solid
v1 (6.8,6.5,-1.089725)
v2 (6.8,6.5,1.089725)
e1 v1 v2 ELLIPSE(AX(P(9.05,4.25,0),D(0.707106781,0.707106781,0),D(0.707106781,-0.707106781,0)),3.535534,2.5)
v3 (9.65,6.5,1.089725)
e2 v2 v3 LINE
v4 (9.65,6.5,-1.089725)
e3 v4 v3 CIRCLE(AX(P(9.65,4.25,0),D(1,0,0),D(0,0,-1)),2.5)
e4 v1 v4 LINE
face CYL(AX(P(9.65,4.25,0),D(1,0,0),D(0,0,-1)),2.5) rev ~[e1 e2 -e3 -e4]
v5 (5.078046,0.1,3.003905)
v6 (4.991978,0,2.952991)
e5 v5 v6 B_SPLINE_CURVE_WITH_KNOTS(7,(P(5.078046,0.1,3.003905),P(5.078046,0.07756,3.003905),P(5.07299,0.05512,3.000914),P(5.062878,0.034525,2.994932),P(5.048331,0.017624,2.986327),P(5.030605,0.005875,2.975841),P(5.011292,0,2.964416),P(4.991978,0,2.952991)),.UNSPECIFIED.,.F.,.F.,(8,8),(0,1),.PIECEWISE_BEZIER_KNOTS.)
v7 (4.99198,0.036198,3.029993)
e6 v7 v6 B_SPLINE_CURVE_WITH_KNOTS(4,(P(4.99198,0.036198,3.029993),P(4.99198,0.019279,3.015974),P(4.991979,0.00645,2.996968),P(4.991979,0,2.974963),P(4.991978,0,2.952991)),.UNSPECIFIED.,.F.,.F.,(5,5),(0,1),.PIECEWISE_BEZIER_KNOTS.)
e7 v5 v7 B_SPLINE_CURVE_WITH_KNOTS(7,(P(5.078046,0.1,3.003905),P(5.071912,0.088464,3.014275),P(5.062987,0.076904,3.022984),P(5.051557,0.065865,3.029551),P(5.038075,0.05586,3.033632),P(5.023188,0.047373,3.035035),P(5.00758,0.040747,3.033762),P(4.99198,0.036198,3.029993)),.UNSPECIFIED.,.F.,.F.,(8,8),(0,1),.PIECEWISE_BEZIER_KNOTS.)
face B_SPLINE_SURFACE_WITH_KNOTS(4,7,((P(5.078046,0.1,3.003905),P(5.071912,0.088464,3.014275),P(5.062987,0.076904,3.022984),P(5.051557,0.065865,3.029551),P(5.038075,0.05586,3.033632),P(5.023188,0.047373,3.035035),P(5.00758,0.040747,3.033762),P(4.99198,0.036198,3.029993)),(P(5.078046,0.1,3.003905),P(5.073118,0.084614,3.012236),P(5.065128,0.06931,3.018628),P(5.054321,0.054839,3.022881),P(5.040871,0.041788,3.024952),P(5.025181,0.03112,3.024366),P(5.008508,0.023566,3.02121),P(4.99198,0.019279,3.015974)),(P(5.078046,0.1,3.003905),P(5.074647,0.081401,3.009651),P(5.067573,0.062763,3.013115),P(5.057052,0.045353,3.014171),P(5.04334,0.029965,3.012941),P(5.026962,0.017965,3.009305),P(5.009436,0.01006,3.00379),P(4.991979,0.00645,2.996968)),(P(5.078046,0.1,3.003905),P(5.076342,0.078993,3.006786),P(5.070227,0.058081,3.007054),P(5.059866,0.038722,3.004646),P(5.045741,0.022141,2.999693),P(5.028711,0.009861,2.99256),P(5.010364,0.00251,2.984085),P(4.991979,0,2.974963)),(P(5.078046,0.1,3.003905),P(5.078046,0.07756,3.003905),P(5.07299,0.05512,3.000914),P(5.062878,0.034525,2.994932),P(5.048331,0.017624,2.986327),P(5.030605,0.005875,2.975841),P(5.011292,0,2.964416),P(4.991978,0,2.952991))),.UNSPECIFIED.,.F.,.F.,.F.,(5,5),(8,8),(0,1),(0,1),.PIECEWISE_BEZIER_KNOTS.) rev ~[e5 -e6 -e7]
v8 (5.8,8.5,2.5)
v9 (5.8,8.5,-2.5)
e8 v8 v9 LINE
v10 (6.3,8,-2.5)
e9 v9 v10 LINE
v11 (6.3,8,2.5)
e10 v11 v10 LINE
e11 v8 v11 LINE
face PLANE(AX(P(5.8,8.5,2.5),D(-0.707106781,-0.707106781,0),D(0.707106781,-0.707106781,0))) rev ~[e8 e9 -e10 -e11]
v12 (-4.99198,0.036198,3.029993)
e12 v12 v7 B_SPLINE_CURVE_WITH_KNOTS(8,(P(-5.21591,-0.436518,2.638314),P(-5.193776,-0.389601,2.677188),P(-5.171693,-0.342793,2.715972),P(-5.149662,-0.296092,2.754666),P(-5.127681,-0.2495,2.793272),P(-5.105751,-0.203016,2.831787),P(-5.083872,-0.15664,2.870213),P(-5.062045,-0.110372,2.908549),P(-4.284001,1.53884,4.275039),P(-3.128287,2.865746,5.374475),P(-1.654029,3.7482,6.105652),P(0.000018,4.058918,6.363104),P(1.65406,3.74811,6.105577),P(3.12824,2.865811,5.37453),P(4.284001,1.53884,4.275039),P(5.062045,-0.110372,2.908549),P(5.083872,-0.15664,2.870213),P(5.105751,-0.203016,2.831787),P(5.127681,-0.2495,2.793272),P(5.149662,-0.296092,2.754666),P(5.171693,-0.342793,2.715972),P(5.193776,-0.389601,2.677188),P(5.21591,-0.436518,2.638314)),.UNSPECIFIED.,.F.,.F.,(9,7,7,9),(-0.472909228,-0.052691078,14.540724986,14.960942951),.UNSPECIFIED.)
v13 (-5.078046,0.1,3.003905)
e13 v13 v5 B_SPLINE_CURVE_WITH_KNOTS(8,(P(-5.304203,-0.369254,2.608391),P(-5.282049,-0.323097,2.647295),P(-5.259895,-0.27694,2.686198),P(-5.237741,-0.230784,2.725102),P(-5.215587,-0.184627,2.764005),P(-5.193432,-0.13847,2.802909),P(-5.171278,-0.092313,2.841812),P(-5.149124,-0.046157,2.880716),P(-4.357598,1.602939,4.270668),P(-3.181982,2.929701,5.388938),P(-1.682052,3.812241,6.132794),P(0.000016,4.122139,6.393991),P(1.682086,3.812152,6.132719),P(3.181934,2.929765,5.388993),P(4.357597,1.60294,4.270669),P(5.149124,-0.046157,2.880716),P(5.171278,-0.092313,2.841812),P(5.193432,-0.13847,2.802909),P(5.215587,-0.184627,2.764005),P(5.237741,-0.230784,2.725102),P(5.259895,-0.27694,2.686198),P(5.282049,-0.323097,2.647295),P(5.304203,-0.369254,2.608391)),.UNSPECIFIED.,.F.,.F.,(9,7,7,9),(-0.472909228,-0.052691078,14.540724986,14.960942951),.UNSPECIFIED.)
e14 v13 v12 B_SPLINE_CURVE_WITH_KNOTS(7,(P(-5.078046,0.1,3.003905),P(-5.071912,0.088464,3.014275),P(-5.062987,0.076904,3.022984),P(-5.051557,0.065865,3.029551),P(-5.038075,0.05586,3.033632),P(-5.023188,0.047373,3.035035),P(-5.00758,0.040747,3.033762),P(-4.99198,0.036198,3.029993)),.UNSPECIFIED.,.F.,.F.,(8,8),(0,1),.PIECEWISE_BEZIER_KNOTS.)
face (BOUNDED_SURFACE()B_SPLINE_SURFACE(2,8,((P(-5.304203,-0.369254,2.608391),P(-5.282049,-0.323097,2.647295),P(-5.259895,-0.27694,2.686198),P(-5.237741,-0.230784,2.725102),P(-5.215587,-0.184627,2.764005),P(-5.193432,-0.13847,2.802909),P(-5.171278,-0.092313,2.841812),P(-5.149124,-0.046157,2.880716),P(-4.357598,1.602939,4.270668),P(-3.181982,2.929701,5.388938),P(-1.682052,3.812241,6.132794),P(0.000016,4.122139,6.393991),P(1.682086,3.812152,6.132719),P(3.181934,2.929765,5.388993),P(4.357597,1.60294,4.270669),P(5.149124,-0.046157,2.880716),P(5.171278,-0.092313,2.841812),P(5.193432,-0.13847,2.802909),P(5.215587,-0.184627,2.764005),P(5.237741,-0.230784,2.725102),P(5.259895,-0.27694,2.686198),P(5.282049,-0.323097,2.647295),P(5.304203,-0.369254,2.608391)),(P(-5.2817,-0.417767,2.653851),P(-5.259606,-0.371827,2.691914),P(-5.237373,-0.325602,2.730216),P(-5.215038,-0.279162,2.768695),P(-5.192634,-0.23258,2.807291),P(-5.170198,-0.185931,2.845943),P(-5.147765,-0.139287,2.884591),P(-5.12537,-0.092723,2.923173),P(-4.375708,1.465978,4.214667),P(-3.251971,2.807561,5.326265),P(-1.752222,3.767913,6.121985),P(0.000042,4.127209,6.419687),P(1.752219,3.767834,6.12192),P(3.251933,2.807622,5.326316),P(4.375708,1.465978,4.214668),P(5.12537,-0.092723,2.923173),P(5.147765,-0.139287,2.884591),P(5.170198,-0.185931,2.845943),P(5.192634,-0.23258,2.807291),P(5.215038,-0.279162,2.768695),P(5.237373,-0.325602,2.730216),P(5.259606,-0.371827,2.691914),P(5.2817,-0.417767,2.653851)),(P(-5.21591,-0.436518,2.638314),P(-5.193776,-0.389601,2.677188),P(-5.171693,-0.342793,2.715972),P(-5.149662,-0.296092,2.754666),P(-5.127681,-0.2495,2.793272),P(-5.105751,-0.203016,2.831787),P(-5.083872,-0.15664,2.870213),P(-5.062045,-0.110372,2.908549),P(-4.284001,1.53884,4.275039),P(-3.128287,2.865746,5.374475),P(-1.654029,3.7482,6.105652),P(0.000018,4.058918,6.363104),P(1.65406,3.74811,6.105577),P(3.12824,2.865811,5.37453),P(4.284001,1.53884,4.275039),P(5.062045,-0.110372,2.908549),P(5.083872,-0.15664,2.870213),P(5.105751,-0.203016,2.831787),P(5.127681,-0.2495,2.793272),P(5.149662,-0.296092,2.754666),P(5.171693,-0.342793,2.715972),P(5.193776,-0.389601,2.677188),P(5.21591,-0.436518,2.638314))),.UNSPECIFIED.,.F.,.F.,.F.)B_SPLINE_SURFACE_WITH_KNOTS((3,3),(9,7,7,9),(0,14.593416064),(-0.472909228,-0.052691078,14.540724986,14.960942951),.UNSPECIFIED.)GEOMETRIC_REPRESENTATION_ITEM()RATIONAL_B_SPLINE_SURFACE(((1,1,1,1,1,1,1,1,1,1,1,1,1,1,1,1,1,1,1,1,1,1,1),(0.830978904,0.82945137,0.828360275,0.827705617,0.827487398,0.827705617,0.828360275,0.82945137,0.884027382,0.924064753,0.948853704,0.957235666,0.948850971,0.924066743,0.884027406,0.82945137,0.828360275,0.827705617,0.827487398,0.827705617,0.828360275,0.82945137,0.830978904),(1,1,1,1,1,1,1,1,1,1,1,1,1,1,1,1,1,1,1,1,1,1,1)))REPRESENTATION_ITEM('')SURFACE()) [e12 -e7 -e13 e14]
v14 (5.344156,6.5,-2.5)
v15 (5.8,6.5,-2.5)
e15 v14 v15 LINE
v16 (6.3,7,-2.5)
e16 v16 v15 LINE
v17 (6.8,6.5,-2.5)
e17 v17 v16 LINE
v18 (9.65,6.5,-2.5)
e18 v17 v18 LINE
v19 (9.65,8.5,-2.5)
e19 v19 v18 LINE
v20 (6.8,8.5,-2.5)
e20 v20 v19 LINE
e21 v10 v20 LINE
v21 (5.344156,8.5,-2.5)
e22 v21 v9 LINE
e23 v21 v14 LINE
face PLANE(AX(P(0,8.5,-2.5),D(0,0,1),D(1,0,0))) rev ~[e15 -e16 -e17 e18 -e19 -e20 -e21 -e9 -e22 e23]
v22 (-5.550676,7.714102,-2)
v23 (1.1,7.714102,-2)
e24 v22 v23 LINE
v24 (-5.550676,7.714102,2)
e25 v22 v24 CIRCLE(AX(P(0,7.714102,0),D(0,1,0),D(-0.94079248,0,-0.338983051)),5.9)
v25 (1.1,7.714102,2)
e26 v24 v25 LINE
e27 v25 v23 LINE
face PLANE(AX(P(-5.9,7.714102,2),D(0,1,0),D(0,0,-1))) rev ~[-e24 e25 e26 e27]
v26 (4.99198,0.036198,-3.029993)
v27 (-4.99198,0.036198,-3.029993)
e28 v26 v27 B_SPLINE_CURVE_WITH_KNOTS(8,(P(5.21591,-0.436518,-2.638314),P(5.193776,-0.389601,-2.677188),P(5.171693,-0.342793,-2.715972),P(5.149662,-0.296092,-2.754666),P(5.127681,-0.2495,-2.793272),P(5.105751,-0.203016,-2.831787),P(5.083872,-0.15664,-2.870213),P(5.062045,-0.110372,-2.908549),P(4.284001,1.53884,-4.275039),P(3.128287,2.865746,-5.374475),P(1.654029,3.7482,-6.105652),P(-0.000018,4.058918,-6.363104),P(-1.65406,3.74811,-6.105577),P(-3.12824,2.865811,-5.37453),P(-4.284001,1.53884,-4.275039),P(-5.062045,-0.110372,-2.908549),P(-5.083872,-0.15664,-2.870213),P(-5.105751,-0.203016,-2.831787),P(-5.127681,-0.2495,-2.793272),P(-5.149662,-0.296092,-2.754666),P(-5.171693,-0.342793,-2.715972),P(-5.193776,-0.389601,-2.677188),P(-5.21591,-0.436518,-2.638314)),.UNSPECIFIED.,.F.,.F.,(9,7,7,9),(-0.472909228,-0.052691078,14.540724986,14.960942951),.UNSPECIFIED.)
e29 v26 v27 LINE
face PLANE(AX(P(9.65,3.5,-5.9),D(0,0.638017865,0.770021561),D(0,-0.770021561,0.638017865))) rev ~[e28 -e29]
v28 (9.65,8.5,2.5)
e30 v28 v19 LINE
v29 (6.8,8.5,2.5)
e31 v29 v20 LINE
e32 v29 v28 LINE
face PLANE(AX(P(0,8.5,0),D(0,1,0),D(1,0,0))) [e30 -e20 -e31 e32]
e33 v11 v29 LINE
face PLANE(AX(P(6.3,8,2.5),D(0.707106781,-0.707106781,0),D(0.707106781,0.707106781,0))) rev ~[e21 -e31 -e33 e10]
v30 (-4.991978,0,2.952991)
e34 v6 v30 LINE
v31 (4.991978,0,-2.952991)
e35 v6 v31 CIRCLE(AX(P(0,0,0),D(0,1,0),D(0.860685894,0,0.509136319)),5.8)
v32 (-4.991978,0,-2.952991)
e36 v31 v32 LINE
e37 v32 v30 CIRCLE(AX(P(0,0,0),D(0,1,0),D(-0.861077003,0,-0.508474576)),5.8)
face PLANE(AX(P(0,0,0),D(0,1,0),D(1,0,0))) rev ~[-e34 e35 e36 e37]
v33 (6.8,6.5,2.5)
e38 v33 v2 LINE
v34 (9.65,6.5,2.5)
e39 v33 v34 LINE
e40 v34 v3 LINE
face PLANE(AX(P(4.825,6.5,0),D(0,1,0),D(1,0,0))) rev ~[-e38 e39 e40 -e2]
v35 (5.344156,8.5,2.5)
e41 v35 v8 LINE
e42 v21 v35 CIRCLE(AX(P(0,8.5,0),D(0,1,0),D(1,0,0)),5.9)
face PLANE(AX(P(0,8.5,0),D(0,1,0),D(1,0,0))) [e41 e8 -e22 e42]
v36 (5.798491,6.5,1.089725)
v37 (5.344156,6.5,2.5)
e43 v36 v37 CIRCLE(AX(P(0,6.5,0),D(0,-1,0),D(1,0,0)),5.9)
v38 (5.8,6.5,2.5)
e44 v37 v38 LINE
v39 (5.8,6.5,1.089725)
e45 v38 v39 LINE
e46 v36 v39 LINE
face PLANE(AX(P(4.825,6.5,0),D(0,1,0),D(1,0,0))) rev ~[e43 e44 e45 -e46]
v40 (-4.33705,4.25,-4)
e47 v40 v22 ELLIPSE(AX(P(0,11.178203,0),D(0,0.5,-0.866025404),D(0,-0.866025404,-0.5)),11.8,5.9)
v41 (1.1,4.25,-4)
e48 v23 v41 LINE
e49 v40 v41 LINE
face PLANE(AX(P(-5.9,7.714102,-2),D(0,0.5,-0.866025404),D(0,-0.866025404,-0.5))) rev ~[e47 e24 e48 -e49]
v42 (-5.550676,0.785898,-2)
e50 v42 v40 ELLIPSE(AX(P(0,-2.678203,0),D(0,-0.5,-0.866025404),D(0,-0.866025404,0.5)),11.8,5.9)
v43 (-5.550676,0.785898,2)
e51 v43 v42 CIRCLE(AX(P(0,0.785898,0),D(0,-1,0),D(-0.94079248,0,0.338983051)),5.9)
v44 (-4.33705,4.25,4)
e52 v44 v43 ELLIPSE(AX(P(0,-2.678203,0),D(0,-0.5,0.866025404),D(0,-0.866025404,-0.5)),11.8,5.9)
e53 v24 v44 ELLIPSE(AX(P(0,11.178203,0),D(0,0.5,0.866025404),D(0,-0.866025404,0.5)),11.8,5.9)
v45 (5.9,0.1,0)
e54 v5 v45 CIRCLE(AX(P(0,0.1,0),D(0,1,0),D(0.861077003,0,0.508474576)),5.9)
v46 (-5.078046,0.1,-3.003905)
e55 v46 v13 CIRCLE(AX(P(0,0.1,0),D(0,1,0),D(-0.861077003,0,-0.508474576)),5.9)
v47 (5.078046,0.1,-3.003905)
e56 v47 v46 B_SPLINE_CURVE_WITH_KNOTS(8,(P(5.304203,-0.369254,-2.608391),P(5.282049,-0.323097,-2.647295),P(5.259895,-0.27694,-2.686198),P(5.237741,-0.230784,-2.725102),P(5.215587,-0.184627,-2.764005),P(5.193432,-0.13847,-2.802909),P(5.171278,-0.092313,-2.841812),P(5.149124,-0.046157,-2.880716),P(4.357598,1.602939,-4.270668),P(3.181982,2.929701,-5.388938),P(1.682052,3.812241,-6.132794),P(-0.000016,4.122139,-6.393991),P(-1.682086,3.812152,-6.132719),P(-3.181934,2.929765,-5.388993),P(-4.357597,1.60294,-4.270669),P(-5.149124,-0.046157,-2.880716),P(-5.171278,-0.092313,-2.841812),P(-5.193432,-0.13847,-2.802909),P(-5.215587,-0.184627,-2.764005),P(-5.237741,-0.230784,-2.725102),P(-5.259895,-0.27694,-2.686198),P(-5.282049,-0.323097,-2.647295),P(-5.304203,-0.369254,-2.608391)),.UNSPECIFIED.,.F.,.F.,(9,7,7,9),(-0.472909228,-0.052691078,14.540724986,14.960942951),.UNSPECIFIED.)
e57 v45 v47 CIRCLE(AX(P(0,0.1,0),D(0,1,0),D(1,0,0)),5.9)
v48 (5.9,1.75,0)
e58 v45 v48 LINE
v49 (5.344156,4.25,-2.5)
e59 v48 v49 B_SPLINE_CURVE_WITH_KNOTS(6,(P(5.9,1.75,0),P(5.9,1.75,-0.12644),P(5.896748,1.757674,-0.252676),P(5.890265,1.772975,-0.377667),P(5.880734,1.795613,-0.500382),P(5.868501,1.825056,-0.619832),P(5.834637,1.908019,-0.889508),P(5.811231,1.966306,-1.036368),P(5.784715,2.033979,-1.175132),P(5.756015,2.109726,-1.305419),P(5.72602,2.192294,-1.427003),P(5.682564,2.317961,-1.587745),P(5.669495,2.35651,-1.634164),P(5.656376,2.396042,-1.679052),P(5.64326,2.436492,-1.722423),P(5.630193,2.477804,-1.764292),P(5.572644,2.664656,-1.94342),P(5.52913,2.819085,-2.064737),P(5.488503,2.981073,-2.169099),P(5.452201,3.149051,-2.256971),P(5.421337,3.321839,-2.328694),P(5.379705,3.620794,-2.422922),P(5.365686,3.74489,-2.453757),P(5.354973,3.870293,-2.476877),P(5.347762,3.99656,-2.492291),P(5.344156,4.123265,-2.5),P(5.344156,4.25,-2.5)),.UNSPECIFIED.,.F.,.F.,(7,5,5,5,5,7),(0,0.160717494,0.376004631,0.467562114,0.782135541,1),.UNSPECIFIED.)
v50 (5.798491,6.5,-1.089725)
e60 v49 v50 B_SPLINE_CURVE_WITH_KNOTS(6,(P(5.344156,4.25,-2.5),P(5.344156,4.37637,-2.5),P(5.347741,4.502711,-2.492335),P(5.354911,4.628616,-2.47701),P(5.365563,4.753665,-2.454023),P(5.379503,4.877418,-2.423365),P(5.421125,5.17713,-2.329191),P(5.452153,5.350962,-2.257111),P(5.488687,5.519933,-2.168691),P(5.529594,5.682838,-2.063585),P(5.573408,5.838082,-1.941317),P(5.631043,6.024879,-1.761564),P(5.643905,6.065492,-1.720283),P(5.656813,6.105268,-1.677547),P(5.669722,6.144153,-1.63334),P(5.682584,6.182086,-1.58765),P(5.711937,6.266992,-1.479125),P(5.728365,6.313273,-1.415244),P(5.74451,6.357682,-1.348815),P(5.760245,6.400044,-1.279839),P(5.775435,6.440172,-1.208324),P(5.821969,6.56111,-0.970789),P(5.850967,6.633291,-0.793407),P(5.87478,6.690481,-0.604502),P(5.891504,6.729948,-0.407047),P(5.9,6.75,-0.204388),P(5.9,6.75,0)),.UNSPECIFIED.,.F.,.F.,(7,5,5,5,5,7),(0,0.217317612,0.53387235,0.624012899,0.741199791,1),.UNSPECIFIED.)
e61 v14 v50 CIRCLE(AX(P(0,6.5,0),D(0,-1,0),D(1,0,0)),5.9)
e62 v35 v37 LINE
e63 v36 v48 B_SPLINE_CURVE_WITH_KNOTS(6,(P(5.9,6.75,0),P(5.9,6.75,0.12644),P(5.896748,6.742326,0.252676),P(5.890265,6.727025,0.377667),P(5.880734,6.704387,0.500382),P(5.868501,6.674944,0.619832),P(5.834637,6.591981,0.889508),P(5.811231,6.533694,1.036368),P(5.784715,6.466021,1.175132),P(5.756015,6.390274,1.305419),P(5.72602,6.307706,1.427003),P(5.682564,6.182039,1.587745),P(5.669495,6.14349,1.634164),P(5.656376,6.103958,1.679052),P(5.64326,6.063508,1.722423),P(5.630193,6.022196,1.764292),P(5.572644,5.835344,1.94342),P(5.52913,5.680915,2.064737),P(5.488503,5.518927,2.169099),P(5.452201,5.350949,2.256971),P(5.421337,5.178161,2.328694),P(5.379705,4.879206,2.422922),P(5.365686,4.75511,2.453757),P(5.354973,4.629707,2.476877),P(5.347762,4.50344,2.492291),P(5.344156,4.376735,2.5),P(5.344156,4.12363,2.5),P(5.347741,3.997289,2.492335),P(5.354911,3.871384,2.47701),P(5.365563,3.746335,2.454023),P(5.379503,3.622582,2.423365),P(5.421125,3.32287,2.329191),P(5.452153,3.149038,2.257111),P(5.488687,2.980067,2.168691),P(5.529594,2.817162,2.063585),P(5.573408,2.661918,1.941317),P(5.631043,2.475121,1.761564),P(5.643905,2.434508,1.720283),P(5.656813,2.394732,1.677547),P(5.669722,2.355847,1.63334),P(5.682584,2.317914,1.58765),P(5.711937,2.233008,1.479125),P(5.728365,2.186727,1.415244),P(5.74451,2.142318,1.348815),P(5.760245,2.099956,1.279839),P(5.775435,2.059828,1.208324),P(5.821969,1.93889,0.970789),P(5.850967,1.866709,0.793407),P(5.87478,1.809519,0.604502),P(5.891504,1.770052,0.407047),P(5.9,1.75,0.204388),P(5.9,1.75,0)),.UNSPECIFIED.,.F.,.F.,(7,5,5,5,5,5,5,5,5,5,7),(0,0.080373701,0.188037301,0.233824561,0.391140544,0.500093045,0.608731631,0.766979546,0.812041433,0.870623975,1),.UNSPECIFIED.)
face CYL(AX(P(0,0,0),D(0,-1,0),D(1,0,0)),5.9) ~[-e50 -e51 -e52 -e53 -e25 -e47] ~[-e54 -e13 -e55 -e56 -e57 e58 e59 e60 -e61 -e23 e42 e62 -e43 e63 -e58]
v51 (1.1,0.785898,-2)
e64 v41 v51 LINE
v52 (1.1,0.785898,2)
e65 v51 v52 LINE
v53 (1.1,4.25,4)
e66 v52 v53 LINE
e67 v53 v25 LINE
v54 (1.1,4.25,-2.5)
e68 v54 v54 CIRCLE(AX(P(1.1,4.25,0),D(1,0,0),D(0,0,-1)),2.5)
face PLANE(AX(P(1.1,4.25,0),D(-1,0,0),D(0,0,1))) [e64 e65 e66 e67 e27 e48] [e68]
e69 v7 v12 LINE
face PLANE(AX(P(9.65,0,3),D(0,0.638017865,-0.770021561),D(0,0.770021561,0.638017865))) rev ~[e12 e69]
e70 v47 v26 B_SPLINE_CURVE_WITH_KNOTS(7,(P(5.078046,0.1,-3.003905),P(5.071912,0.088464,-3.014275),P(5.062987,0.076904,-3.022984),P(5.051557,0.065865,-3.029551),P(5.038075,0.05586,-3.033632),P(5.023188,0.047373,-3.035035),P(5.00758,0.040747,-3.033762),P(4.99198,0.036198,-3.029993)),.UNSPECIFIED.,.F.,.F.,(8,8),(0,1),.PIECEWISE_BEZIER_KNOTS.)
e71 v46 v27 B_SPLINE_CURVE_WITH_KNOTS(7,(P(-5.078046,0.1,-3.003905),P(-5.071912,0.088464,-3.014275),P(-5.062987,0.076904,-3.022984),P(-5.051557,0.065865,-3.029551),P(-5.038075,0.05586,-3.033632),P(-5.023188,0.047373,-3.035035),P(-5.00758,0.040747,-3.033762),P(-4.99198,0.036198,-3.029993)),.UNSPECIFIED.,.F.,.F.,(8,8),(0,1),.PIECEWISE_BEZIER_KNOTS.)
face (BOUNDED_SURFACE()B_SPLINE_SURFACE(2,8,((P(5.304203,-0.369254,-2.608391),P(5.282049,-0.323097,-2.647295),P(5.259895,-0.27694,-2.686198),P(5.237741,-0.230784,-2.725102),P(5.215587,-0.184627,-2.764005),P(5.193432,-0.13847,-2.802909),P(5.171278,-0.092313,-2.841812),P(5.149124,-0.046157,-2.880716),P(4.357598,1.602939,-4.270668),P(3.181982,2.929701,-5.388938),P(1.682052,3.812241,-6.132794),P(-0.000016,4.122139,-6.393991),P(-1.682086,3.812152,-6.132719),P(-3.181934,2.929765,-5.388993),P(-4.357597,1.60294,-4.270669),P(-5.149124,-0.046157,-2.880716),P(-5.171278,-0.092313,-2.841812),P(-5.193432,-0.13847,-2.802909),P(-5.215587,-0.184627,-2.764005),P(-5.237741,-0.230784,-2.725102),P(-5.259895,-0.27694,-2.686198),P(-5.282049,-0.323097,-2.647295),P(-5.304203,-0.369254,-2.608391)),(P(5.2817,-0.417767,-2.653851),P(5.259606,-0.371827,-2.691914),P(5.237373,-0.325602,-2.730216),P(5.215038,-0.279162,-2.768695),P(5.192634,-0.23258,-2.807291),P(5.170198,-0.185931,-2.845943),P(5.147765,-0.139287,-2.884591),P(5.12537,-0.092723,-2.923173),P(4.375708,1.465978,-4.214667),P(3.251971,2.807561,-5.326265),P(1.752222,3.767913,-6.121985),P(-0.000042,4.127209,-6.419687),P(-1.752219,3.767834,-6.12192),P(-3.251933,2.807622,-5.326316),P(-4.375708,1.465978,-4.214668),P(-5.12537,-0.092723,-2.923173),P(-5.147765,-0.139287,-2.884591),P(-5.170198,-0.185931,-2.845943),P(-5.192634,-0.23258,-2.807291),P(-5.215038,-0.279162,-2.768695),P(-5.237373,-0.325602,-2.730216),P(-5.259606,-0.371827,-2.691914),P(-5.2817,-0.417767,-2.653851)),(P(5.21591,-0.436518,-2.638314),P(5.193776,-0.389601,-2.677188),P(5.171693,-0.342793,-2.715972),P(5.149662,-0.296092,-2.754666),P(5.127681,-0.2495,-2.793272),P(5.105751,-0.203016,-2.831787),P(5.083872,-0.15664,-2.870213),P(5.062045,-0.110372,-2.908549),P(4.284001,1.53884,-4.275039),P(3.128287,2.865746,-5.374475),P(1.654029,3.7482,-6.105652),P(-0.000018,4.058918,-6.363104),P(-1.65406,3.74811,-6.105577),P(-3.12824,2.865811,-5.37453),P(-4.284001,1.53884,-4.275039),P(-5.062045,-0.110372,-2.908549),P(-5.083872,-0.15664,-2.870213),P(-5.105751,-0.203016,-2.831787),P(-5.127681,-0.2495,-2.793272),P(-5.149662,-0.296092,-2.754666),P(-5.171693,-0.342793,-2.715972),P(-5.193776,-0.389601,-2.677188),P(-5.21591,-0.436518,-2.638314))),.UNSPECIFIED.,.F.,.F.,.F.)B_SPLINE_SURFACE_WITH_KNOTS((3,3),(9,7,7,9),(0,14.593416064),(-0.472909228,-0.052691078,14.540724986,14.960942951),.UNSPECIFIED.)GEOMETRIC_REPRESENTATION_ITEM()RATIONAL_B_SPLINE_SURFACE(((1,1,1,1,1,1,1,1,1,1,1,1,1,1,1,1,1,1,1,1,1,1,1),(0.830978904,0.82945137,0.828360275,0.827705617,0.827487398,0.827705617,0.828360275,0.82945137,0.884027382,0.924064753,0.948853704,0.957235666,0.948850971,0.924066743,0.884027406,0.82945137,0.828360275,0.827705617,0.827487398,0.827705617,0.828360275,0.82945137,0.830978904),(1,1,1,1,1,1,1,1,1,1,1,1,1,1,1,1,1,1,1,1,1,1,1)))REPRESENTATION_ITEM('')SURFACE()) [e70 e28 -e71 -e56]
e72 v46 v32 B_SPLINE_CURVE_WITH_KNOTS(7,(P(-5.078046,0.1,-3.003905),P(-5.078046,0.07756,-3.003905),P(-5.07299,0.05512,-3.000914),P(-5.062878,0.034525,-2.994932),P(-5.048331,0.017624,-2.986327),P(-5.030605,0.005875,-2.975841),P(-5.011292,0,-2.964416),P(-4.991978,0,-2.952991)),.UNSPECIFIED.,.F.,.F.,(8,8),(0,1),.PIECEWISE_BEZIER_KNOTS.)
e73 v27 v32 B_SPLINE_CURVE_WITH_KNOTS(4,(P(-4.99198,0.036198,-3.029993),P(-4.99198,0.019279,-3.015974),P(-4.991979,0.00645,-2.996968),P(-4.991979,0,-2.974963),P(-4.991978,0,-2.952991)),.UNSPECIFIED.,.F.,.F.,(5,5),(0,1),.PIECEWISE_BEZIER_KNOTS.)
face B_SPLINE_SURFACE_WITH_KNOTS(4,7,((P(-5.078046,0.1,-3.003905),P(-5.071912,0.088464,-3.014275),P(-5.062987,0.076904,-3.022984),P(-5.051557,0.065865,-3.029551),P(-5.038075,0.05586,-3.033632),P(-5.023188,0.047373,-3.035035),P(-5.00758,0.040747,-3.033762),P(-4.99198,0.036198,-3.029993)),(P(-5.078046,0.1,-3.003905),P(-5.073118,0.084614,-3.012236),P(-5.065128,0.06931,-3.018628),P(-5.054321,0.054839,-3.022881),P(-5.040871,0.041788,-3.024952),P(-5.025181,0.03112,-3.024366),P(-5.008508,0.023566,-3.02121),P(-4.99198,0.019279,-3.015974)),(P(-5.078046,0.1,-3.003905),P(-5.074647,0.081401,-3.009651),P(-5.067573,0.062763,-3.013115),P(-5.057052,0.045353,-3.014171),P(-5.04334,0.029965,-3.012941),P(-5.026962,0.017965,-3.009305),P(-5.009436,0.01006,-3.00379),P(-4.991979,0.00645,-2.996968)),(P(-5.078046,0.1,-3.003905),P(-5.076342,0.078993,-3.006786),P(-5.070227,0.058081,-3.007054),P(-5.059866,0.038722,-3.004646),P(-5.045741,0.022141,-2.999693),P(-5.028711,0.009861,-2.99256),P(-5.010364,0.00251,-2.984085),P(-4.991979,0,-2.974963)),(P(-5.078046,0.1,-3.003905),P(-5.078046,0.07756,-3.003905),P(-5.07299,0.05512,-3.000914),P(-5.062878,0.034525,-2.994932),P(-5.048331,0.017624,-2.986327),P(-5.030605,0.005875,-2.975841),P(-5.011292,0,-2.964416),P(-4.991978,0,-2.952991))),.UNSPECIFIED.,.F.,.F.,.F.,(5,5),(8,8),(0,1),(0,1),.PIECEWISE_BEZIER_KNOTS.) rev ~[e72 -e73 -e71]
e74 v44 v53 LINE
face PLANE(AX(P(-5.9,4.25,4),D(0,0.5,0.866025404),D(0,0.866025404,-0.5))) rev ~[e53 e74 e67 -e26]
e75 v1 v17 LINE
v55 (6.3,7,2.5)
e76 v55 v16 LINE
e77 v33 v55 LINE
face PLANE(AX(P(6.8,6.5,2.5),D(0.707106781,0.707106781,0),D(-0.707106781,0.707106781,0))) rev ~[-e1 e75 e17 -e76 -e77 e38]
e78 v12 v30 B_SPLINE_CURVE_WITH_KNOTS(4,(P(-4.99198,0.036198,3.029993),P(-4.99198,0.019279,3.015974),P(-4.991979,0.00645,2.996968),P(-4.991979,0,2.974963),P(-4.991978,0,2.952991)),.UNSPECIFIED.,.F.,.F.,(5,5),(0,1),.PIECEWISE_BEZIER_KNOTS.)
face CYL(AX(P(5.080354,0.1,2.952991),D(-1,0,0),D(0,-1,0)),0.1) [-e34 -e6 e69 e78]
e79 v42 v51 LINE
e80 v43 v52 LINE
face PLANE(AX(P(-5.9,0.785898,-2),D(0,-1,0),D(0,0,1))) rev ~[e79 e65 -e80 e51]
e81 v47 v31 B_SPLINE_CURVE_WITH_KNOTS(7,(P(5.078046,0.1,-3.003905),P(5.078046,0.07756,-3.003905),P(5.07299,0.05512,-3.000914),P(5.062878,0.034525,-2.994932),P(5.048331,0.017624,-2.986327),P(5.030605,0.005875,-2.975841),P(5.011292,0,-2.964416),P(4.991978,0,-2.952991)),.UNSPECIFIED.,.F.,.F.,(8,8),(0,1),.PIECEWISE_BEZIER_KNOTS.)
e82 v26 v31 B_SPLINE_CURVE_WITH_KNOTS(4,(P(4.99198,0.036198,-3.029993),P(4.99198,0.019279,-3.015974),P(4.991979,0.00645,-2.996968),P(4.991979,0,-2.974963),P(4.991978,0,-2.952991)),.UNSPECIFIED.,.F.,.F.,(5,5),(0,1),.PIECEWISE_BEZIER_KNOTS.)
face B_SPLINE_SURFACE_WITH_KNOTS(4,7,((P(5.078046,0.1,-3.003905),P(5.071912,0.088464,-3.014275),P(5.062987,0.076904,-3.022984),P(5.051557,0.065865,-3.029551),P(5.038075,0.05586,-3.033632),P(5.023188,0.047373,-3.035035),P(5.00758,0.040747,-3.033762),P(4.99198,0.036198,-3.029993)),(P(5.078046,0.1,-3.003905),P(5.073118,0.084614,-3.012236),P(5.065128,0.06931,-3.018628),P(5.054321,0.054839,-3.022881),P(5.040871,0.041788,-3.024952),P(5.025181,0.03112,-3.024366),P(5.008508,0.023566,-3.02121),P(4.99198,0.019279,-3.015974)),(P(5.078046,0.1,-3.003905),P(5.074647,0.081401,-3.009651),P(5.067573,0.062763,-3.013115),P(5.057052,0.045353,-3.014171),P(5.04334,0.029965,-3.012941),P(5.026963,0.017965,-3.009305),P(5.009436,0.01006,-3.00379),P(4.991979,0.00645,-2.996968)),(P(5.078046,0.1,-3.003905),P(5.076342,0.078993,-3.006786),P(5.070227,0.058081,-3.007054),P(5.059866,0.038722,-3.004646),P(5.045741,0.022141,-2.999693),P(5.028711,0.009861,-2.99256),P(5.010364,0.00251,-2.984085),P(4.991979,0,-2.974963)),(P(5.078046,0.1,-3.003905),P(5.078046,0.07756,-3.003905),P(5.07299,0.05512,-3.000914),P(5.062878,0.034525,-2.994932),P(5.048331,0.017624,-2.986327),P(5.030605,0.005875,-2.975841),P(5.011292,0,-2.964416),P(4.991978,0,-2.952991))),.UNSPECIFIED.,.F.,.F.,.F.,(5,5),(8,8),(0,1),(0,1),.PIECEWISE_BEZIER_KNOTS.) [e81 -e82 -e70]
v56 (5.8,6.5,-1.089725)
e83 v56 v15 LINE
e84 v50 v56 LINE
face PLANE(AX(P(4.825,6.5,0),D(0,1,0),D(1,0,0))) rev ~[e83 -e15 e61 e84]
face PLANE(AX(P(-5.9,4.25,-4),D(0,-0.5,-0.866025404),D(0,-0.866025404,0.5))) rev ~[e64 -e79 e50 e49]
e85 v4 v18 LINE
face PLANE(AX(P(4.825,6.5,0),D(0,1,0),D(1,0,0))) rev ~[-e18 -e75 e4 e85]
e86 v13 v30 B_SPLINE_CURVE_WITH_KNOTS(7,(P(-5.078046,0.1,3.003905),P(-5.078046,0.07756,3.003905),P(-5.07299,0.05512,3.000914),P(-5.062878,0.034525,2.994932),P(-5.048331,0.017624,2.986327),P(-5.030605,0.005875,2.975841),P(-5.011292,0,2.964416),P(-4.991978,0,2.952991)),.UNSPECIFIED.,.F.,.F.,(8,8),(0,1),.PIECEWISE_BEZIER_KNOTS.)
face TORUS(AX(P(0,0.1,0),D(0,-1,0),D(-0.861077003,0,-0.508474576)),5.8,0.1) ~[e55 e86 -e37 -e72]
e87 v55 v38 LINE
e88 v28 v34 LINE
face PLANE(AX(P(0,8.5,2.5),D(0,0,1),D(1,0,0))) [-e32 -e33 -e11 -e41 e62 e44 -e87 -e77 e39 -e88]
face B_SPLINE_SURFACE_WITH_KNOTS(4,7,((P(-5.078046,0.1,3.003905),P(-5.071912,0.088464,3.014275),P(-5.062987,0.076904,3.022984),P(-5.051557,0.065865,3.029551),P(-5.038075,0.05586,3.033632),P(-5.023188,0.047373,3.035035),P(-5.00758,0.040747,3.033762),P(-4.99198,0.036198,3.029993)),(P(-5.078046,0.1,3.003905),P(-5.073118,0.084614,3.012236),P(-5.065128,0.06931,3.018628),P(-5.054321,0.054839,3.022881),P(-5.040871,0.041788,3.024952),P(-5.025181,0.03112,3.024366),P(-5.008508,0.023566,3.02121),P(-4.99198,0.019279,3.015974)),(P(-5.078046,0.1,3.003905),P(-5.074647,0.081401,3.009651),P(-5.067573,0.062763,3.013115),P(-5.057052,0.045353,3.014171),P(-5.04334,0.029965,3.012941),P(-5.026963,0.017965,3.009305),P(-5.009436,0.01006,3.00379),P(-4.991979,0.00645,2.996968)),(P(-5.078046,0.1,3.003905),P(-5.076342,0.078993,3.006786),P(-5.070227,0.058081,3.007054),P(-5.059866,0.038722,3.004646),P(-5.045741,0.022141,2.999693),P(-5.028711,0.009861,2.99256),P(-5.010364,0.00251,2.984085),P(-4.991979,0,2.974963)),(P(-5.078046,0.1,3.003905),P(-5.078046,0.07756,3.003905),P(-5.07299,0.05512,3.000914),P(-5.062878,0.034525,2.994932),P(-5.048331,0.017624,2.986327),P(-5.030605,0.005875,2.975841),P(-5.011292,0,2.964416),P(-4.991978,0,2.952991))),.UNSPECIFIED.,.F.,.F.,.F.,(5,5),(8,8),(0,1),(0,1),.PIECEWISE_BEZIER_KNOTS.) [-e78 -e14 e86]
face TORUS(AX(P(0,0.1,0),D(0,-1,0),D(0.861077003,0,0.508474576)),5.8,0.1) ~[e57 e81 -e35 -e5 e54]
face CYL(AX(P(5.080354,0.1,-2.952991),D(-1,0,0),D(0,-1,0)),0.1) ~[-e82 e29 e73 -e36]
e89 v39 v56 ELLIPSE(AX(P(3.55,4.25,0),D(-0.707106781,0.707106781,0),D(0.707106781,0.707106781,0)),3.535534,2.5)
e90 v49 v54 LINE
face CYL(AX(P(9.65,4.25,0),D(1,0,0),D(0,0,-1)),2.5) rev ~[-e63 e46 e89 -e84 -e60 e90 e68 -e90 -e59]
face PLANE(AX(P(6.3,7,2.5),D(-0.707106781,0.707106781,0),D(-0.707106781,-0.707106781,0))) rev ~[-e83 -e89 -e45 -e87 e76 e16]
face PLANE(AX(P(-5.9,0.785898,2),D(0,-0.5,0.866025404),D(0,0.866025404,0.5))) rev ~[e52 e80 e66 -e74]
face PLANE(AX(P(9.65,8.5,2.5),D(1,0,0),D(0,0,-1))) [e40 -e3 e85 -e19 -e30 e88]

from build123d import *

# Parameters (mm, degrees)
SKETCH1_R          = 5.9
EXTRUDE1_DEPTH     = 8.5
SKETCH2_W          = 9.65
SKETCH2_H          = 5
EXTRUDE2_DEPTH     = 2
SKETCH3_R          = 2.5
CUT_EXTRUDE1_DEPTH = 16.55
CUT_EXTRUDE2_DEPTH = 9.4000001
CUT_EXTRUDE3_DEPTH = 16.5500001
FILLET2_R          = 0.1
CUT_EXTRUDE5_DEPTH = 7


with BuildPart() as part:
    # Sketch1 → Extrude1 (new body)
    with BuildSketch(Plane(origin=(0, 0, 0), x_dir=(1, 0, 0), z_dir=(0, 1, 0))):
        Circle(SKETCH1_R)
    extrude(amount=EXTRUDE1_DEPTH)

    # Sketch2 → Extrude2 (add)
    with BuildSketch(Plane(origin=(0, 8.5, 0), x_dir=(1, 0, 0), z_dir=(0, 1, 0))):
        with Locations((4.825, 0)):
            Rectangle(SKETCH2_W, SKETCH2_H)
    extrude(amount=-EXTRUDE2_DEPTH)

    # Sketch3 → Cut-Extrude1 (cut, through all)
    with BuildSketch(Plane(origin=(9.65, 0, 0), x_dir=(0, 0, -1), z_dir=(1, 0, 0))):
        with Locations((0, 4.25)):
            Circle(SKETCH3_R)
    extrude(amount=-CUT_EXTRUDE1_DEPTH, mode=Mode.SUBTRACT)

    # Sketch4 → Cut-Extrude2 (cut, through all)
    with BuildSketch(Plane.XY.offset(2.5)):
        Polygon((6.8, 8.5), (5.8, 8.5), (6.3, 8), align=None)
        Polygon((6.3, 7), (5.8, 6.5), (6.8, 6.5), align=None)
    extrude(amount=-CUT_EXTRUDE2_DEPTH, mode=Mode.SUBTRACT)

    # Sketch5 → Cut-Extrude3 (cut, through all)
    with BuildSketch(Plane(origin=(9.65, 0, 0), x_dir=(0, 0, -1), z_dir=(1, 0, 0))):
        Polygon((-5.9, 3.5), (-6.106265144, 3.5), (-6.003132572, -0.278643129), (6.106265144, -0.15610938), (6.106265144, 3.632225684), (5.9, 3.5), (3, 0), (-3, 0), align=None)
    extrude(amount=-CUT_EXTRUDE3_DEPTH, mode=Mode.SUBTRACT)

    # Fillet2
    fillet2_edges = [part.edges().sort_by_distance(p)[0] for p in [
        (5.691400991, 0, -1.554977415),
        (-5.9, 0, 0),
        (0, 0, -3),
        (0, 0, 3),
        (-3.201105027, 2.360810271, 4.956099939),
        (3.201105027, 2.360810271, -4.956099939),
    ]]
    fillet(fillet2_edges, radius=FILLET2_R)

    # Sketch7 → Cut-Extrude5 (cut)
    with BuildSketch(Plane(origin=(-5.9, 0, 0), x_dir=(0, 0, -1), z_dir=(1, 0, 0))):
        Polygon((-4, 4.25), (-2, 7.714101615), (2, 7.714101615), (4, 4.25), (2, 0.785898385), (-2, 0.785898385), align=None)
    extrude(amount=CUT_EXTRUDE5_DEPTH, mode=Mode.SUBTRACT)


solid = part.part
